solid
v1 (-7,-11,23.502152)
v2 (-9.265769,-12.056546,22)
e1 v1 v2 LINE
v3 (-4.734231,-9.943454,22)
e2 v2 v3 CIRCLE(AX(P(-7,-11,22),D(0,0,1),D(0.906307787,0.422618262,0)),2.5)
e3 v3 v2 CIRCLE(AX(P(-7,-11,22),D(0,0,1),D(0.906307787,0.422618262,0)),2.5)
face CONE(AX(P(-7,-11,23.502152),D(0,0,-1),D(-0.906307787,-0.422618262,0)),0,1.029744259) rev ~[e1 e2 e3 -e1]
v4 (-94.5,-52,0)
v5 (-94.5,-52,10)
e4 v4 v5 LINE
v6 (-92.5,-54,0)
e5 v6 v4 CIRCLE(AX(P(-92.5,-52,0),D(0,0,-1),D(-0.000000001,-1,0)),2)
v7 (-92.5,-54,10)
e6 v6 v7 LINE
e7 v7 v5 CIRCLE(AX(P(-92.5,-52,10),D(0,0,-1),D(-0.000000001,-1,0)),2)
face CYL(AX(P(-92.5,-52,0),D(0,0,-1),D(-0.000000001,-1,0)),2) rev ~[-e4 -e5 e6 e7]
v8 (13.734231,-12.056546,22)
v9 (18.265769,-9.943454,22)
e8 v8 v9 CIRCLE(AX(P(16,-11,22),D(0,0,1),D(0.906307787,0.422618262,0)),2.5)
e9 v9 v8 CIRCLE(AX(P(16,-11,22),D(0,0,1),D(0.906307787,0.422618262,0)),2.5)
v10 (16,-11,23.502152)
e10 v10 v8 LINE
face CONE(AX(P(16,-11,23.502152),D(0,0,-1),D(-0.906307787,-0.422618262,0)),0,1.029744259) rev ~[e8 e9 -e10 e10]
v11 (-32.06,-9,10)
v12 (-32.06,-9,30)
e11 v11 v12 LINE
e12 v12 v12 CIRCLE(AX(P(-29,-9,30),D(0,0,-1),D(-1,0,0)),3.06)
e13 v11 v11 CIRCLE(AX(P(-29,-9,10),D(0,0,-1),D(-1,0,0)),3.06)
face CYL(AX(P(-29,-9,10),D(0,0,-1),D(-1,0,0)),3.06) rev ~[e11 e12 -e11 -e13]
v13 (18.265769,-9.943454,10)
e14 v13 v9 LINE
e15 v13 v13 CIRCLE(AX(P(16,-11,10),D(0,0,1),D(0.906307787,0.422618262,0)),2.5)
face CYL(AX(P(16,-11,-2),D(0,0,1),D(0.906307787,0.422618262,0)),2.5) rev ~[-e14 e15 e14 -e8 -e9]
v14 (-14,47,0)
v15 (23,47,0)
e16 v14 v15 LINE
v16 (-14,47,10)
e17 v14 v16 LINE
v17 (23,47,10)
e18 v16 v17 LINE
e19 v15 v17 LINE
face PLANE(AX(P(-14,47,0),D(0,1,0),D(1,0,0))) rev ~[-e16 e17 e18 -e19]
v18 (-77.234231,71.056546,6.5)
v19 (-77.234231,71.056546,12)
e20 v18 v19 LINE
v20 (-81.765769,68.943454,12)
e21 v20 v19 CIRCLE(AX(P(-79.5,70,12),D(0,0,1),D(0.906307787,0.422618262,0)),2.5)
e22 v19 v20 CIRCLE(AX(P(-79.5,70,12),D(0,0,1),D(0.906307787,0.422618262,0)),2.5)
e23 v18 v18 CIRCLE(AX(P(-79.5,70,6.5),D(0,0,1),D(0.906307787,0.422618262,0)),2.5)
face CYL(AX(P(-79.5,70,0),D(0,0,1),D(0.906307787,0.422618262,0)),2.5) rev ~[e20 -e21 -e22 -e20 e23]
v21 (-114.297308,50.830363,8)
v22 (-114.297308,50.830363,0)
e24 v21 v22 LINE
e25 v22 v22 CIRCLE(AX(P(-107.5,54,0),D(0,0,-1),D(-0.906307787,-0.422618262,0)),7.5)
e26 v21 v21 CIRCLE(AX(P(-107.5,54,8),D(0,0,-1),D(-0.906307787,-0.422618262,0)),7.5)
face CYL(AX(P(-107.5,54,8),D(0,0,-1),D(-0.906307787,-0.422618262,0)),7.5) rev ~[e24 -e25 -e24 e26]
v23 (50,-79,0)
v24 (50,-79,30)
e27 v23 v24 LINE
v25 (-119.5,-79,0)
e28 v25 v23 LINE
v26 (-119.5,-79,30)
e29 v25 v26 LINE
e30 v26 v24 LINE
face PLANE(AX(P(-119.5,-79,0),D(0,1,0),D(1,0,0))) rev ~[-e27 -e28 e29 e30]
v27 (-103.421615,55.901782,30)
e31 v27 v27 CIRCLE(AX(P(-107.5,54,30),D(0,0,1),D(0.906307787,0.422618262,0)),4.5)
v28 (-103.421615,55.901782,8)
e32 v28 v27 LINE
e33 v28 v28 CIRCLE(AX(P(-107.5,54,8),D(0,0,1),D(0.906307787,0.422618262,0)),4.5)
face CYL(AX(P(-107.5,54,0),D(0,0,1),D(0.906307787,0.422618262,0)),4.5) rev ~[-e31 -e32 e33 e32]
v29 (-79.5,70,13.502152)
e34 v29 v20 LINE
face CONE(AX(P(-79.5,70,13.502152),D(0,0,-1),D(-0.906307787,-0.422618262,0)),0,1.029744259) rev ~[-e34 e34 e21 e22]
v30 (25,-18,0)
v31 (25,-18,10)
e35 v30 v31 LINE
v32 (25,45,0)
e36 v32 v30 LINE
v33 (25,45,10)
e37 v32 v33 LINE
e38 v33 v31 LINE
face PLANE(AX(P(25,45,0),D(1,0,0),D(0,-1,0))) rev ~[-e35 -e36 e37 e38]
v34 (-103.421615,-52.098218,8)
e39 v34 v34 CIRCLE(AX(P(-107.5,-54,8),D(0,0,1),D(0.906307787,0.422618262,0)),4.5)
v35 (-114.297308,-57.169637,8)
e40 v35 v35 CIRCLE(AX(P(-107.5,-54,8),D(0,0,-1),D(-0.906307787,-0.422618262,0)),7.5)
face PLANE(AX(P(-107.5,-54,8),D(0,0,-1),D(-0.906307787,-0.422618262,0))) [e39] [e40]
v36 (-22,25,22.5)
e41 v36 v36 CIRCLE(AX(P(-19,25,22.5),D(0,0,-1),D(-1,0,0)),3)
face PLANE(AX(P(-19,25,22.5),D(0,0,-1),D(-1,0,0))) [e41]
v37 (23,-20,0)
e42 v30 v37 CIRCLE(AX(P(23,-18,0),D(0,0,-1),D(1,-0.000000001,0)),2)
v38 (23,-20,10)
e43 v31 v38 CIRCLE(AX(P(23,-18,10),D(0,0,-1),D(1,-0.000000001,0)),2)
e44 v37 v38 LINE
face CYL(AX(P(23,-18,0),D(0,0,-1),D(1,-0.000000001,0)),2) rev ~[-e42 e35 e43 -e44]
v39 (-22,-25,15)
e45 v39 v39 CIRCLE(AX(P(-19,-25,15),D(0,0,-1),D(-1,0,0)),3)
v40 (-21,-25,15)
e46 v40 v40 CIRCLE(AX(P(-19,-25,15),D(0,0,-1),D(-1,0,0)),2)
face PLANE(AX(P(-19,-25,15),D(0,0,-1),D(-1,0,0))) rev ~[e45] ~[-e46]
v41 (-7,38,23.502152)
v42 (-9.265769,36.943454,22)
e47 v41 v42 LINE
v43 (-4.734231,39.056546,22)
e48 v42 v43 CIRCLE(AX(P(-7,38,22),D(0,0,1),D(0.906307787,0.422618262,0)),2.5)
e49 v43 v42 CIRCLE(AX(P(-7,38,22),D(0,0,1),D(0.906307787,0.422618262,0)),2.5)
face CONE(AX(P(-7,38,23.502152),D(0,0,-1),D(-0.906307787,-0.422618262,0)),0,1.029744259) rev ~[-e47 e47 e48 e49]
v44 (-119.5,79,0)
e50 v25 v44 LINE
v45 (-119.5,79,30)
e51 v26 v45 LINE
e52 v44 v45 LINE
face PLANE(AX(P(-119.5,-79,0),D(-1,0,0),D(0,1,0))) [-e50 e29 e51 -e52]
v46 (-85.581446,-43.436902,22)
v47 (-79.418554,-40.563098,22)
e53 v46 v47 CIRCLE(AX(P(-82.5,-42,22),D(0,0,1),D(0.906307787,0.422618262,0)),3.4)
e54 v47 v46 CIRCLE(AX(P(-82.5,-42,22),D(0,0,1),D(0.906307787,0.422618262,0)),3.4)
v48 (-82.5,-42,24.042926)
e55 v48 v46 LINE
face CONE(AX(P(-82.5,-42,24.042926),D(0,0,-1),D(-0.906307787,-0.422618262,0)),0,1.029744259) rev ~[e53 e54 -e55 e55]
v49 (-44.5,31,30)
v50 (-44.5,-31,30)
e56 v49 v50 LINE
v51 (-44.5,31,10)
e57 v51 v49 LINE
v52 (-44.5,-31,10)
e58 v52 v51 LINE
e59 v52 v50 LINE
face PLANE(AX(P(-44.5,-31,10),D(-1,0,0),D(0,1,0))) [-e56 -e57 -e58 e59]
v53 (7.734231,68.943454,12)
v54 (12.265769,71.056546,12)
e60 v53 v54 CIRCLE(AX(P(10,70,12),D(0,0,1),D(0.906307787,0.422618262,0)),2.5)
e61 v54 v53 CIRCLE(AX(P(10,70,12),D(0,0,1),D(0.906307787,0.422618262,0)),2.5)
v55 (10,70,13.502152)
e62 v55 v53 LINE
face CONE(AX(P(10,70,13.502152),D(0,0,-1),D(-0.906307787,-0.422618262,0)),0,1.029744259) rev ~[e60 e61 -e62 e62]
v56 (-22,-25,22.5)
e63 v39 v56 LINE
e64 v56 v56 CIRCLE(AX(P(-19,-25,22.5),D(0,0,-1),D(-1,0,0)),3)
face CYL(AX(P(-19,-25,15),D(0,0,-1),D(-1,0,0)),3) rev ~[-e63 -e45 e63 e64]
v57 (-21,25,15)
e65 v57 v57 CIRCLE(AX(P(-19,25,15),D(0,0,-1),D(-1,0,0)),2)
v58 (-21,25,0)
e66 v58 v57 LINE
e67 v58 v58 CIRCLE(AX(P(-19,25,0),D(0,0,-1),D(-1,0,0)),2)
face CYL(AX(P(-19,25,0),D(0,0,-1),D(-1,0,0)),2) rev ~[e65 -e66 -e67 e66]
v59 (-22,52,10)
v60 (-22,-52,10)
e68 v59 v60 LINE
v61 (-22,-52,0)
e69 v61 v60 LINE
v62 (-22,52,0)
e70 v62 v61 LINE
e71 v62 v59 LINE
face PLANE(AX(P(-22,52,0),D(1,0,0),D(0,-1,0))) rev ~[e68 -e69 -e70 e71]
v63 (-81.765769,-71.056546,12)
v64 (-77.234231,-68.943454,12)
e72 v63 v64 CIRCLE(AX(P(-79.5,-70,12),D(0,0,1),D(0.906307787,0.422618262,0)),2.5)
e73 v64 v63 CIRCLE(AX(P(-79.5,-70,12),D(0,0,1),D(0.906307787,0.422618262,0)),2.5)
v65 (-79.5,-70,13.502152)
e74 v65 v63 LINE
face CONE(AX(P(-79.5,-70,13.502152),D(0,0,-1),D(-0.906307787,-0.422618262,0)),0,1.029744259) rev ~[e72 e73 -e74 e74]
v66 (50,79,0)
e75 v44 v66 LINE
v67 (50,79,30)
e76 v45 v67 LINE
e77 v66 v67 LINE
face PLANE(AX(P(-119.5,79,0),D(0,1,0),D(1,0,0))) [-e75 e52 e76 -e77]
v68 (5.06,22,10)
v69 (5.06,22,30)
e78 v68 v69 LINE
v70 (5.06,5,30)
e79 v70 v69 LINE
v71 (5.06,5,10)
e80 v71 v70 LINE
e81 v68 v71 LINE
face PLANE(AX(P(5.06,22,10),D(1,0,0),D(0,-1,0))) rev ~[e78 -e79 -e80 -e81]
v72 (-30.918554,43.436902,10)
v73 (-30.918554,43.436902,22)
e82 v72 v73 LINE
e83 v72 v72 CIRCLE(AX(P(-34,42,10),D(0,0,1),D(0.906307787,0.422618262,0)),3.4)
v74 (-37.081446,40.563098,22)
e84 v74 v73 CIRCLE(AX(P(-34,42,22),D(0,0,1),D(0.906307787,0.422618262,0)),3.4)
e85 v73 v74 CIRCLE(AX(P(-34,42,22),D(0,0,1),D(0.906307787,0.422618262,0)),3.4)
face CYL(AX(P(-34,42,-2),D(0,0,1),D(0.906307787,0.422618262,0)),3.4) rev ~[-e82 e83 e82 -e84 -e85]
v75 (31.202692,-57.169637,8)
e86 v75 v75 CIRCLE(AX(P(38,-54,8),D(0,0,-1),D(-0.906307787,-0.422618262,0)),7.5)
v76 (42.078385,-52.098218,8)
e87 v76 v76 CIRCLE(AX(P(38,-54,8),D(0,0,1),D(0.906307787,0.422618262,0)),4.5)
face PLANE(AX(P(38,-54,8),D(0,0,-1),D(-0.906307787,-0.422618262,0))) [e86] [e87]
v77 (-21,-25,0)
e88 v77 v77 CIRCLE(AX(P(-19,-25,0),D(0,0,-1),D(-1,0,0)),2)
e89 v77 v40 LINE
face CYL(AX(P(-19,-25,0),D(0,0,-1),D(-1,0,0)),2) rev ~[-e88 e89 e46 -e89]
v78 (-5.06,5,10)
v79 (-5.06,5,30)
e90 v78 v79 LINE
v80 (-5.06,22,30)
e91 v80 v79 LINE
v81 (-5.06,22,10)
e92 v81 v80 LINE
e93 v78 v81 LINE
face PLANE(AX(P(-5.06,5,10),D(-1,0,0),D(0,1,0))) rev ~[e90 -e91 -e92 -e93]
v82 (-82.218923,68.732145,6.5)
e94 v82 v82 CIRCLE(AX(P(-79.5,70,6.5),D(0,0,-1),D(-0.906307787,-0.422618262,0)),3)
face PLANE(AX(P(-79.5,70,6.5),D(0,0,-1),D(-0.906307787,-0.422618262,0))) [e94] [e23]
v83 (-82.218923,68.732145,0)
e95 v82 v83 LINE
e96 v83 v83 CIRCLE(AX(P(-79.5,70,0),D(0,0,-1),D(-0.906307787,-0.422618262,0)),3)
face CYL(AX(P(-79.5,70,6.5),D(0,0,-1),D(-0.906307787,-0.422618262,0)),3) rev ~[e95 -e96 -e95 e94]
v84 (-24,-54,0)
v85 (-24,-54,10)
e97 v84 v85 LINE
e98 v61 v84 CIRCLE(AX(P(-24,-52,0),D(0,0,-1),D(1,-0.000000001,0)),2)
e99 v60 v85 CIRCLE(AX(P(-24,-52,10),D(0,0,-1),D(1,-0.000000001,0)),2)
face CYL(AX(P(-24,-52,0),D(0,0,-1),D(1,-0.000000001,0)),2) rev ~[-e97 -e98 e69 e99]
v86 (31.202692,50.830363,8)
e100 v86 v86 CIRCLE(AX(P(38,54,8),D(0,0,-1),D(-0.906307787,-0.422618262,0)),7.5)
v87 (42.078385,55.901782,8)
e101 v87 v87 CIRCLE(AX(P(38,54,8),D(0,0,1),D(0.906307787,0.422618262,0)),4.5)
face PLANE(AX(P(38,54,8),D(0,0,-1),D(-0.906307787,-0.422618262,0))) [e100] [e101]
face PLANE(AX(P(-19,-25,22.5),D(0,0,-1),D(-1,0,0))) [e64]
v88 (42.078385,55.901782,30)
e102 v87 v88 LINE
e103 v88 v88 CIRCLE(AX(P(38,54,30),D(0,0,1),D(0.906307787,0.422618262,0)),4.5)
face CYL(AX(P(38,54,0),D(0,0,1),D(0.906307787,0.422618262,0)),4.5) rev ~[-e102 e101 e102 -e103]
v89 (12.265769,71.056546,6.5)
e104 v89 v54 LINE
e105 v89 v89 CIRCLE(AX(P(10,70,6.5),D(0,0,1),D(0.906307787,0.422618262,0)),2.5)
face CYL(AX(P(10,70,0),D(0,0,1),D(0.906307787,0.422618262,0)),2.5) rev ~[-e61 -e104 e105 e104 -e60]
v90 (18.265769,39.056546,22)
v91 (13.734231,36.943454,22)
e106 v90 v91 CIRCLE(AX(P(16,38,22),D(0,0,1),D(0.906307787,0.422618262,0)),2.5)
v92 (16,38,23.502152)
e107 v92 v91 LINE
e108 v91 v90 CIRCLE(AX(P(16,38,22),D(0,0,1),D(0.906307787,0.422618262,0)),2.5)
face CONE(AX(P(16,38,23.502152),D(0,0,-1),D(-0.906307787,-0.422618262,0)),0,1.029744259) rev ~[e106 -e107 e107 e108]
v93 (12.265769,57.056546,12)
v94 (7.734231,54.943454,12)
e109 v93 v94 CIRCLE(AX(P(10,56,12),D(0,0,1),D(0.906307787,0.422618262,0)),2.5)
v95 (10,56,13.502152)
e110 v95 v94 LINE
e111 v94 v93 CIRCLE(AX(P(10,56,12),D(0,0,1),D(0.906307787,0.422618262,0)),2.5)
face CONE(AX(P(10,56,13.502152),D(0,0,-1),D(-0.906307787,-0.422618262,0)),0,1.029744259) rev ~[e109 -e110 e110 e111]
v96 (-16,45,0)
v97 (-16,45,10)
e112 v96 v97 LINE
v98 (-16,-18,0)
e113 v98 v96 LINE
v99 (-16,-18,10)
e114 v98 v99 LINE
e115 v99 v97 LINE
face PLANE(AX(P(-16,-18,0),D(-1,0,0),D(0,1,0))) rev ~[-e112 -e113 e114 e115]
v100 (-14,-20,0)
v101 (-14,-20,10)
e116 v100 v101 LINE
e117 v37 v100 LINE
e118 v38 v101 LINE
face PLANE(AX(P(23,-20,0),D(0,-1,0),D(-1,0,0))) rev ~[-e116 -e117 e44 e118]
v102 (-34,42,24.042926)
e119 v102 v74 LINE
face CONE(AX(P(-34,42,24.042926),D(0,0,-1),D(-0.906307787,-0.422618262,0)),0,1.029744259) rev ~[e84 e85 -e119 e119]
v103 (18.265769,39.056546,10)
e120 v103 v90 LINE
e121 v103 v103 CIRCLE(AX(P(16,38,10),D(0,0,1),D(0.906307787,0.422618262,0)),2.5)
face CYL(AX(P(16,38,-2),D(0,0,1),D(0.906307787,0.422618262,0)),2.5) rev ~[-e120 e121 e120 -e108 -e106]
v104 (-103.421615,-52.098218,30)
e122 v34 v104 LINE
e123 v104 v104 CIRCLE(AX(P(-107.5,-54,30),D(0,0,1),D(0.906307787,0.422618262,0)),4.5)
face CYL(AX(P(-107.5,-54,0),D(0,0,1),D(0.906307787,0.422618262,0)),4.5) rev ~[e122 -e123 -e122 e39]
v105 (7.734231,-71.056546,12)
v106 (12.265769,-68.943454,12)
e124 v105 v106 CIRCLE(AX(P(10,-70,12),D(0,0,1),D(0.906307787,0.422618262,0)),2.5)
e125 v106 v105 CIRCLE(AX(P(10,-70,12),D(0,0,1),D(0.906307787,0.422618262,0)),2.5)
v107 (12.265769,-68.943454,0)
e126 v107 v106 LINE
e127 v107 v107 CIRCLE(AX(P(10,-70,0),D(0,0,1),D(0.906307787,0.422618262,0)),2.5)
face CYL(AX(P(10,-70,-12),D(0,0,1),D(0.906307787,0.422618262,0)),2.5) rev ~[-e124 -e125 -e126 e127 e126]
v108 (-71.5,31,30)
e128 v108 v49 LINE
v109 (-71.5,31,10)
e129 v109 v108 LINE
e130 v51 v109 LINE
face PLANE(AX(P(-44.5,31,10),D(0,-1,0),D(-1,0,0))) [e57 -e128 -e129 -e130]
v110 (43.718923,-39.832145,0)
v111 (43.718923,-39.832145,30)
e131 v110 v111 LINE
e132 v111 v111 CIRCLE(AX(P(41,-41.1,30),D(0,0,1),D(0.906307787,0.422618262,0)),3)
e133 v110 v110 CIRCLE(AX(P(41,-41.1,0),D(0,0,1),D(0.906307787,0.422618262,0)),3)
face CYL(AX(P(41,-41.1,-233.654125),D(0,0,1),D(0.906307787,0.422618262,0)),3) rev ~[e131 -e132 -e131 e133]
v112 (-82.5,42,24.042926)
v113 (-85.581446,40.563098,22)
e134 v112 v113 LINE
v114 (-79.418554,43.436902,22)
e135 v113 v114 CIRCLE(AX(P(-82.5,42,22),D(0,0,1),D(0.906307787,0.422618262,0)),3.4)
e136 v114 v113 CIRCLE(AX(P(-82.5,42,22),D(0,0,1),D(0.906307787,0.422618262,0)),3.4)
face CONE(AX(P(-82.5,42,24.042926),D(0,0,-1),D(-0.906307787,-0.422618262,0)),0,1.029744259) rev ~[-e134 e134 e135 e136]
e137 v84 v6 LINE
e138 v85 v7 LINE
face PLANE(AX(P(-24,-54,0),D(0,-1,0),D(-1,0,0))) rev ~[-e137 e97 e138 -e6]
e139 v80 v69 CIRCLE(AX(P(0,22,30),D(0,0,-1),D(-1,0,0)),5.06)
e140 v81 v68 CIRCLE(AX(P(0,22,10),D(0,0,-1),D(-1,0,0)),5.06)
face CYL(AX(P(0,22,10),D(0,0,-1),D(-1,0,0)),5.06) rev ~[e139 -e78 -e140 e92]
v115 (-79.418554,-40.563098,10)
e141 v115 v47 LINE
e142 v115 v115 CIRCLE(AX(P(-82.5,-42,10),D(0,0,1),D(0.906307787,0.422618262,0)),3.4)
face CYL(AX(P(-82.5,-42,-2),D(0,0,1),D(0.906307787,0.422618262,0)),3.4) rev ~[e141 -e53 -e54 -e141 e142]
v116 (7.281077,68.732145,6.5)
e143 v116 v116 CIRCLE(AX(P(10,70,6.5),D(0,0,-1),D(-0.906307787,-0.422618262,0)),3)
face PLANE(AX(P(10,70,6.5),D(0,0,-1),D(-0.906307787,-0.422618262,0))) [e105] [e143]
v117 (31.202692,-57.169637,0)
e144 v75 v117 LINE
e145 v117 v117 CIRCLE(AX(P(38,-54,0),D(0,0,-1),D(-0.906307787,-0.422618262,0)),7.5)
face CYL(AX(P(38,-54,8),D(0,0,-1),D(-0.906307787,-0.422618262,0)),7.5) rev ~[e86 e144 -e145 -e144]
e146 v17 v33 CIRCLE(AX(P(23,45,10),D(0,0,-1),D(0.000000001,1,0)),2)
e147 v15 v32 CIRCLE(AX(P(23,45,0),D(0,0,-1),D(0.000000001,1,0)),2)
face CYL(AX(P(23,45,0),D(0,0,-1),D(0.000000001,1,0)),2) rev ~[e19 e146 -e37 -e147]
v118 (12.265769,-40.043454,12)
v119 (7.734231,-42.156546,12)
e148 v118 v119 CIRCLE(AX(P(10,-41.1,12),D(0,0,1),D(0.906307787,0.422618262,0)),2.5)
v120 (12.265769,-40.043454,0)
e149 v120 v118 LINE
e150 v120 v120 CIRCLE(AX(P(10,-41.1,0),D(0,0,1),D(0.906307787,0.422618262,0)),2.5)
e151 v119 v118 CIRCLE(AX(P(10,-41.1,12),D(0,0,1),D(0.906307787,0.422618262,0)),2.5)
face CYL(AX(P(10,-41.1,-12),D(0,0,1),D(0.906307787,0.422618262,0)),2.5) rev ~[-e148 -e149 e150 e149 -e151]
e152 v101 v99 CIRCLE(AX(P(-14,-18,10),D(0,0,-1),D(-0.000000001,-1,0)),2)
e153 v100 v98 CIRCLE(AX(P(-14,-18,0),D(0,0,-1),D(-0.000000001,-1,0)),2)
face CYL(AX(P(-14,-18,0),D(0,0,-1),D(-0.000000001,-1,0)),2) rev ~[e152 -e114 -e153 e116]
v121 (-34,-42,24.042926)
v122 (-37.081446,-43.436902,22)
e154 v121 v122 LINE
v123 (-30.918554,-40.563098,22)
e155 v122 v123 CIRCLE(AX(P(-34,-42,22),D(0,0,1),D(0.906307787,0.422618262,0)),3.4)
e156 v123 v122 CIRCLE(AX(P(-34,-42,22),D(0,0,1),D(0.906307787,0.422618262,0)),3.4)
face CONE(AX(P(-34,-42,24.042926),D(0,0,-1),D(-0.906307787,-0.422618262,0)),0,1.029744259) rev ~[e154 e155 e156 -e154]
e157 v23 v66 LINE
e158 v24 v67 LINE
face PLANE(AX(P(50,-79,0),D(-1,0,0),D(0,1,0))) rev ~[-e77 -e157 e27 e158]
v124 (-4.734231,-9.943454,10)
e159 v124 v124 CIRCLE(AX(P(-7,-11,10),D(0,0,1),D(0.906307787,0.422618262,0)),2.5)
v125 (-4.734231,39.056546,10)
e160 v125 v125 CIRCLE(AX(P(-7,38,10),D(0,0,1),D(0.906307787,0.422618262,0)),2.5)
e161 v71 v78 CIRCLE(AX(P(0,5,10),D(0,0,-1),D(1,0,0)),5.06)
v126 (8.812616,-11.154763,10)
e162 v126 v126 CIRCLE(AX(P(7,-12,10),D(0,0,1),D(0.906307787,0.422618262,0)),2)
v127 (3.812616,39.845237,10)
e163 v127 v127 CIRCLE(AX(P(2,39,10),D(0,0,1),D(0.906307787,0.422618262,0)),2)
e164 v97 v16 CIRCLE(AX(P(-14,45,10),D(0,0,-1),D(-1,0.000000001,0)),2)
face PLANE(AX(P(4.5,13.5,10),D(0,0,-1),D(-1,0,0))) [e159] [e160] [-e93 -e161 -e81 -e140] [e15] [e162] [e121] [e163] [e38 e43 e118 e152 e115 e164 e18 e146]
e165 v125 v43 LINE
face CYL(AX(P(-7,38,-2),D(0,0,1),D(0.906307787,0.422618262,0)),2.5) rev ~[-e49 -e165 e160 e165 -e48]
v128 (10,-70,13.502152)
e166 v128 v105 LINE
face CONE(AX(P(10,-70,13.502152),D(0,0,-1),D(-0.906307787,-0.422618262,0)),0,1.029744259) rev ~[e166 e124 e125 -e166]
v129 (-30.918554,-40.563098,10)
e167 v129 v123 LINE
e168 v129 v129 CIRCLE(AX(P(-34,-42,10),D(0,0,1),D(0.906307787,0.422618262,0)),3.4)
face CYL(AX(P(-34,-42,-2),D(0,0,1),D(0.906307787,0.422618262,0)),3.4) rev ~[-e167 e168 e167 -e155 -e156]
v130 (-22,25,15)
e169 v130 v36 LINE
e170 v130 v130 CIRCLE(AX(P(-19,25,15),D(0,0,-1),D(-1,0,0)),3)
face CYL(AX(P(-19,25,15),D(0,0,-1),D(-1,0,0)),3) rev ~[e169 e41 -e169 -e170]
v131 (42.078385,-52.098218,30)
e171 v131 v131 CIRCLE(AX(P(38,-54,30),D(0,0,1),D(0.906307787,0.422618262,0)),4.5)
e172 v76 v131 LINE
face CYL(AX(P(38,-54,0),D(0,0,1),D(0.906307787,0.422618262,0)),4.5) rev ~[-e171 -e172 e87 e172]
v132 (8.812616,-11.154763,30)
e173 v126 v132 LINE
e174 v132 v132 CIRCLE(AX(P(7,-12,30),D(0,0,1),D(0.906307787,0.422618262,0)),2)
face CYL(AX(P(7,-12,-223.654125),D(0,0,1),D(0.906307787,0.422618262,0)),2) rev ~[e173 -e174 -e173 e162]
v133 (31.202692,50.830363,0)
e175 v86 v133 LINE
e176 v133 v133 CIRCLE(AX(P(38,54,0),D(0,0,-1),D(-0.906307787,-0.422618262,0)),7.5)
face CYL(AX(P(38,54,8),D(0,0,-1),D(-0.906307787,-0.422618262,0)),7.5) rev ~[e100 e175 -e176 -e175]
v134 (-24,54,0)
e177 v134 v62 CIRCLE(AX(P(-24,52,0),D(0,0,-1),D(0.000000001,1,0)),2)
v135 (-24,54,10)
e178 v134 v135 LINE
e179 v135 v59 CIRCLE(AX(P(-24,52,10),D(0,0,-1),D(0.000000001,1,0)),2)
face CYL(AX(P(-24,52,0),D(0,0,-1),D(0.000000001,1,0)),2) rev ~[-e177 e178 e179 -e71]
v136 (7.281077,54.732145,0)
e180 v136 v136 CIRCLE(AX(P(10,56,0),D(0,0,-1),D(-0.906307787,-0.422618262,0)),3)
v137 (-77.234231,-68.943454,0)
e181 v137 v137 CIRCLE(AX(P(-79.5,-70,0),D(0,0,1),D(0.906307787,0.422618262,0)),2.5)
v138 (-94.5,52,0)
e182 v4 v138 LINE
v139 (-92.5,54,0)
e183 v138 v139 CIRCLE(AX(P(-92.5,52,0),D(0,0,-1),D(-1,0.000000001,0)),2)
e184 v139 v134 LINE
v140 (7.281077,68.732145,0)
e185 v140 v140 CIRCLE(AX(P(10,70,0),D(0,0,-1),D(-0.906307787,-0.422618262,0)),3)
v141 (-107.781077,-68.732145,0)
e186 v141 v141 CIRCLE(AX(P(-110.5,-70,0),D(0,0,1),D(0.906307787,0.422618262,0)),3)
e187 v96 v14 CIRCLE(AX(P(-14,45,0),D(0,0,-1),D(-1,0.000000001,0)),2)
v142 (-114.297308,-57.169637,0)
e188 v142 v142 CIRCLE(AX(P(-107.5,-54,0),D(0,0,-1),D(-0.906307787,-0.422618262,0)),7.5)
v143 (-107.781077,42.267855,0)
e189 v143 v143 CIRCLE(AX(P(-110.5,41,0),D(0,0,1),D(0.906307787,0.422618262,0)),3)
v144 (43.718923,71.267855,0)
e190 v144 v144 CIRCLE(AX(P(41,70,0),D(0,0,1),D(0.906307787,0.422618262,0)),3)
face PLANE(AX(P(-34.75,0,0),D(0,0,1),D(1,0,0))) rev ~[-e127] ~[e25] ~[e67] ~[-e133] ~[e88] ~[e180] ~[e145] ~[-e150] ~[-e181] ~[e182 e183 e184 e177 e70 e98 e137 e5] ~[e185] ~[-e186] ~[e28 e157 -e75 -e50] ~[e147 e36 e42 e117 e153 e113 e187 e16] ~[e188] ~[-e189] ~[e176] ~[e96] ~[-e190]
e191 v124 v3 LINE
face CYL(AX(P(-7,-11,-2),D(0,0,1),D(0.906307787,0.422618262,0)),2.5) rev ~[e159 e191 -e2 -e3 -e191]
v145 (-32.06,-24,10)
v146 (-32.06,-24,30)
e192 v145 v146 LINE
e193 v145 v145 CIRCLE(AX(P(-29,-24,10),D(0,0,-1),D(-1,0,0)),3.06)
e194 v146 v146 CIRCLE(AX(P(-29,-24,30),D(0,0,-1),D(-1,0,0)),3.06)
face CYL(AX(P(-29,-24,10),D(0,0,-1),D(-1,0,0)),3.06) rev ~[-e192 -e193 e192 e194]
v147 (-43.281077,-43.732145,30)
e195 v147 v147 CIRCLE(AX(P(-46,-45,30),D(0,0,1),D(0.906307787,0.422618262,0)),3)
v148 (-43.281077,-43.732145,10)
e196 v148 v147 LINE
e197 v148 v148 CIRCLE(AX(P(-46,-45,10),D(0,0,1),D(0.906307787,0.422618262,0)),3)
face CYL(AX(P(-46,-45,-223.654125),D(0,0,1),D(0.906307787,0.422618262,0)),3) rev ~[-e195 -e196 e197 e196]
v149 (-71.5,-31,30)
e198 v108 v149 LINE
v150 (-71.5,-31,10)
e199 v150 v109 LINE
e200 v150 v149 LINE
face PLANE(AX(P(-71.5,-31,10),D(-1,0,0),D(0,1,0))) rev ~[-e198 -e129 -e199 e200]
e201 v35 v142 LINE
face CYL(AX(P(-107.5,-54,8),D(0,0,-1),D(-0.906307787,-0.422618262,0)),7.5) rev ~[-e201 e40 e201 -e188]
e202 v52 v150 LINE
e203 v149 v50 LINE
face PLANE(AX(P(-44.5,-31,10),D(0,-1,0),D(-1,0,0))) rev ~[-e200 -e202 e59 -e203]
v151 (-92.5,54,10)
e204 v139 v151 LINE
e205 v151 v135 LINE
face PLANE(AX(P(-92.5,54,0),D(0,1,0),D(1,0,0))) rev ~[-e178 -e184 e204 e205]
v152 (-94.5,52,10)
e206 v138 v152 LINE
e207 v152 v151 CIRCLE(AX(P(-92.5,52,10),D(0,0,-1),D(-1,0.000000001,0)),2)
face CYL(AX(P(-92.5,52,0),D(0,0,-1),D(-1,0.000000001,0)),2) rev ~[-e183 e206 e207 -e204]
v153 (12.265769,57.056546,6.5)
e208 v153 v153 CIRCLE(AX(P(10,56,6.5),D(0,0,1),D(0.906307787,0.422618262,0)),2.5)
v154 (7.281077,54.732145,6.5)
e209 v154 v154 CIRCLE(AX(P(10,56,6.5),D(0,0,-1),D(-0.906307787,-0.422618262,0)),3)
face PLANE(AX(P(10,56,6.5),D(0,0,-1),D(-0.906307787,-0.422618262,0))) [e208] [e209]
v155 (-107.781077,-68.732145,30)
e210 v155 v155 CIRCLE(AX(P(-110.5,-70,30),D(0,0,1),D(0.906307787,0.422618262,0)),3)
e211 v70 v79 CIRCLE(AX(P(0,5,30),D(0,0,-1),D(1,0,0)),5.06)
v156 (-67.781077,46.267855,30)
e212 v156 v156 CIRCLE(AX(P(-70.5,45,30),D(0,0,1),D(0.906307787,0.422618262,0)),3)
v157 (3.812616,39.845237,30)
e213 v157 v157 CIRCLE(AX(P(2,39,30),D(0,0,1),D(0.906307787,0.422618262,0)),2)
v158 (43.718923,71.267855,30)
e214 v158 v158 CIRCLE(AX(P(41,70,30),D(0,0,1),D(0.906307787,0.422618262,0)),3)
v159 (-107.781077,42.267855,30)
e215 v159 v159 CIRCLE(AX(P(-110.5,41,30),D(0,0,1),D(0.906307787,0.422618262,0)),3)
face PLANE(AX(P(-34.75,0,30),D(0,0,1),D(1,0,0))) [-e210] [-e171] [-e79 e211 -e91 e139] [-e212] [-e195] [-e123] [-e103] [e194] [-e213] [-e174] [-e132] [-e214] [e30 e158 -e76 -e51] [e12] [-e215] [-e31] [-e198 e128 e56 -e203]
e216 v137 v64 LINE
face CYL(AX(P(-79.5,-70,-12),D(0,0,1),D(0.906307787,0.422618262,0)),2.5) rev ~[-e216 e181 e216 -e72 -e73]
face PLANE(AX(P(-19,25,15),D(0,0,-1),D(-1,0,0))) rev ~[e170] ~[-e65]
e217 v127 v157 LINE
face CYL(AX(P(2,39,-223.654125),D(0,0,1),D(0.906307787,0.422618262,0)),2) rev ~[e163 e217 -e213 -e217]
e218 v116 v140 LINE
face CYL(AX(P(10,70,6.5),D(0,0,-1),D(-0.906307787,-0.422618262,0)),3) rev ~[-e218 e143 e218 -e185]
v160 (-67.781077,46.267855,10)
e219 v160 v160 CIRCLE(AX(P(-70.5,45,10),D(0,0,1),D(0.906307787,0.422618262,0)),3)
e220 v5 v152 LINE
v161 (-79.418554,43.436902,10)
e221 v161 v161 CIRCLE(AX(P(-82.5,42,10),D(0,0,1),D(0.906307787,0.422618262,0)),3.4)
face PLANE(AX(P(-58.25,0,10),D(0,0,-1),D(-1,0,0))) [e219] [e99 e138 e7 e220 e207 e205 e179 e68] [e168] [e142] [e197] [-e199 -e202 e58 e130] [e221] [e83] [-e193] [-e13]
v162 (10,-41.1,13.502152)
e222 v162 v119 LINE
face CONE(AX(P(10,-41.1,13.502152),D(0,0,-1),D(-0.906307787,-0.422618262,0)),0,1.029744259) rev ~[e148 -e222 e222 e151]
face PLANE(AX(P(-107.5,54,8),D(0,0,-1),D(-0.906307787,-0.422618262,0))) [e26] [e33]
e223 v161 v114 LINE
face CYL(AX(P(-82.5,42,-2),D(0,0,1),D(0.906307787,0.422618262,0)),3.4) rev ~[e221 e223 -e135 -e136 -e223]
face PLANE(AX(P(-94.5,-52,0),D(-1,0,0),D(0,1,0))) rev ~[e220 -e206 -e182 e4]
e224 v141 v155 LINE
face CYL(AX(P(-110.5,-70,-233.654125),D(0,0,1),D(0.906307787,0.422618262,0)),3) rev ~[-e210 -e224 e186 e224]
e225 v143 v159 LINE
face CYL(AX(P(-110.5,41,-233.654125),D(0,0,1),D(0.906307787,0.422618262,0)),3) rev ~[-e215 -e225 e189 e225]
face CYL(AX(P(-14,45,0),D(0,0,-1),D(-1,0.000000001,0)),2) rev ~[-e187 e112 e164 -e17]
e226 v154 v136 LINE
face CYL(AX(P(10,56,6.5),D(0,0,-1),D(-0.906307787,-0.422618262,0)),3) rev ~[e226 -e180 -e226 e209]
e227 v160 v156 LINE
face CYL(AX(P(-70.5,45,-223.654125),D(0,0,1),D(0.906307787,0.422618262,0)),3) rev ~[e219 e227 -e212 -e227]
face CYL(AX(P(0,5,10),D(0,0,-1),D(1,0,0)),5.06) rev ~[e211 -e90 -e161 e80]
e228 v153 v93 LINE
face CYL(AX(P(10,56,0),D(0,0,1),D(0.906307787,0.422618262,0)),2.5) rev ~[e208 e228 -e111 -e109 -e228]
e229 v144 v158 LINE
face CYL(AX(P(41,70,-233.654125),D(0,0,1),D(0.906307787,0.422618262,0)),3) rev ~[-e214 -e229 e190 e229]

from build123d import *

# Parameters (mm, degrees)
SKETCH2_W                       = 169.5
SKETCH2_H                       = 158
BOSS_EXTRUDE1_DEPTH             = 30
CUT_EXTRUDE2_START              = -10
SKETCH4_R                       = 3.06
SKETCH4_W                       = 27
SKETCH4_H                       = 62
CUT_EXTRUDE2_DEPTH              = 137.360001366
CUT_EXTRUDE4_DEPTH              = 10
SKETCH9_R                       = 2
CUT_EXTRUDE14_DEPTH             = 15
SKETCH11_R                      = 3
CUT_EXTRUDE16_DEPTH             = 7.5
CBORE_FOR_M8_SHCS1_D            = 9
CBORE_FOR_M8_SHCS1_CBORE_D      = 15
CBORE_FOR_M8_SHCS1_CBORE_DEPTH  = 8
M8X1_25_TAPPED_HOLE1_D          = 6.8
M8X1_25_TAPPED_HOLE1_DEPTH      = 12
M8X1_25_TAPPED_HOLE1_TIP        = 2.042926105
M6X1_0_TAPPED_HOLE1_D           = 5
M6X1_0_TAPPED_HOLE1_DEPTH       = 12
M6X1_0_TAPPED_HOLE1_TIP         = 1.502151548
M6X1_0_TAPPED_HOLE2_D           = 5
M6X1_0_TAPPED_HOLE2_DEPTH       = 12
M6X1_0_TAPPED_HOLE2_TIP         = 1.502151548
M6X1_0_TAPPED_HOLE3_D           = 5
M6X1_0_TAPPED_HOLE3_DEPTH       = 12
M6X1_0_TAPPED_HOLE3_CBORE_D     = 6
M6X1_0_TAPPED_HOLE3_CBORE_DEPTH = 6.5
M6X1_0_TAPPED_HOLE3_TIP         = 1.502151548
F_6_0MM_CLEARANCE_DOWEL_HOLE1_D = 6
F_6_0MM_CLEARANCE_DOWEL_HOLE2_D = 6
F_6_0MM_CLEARANCE_DOWEL_HOLE3_D = 6
F_4_0MM_CLEARANCE_DOWEL_HOLE1_D = 4


with BuildPart() as part:
    # Sketch2 → Boss-Extrude1 (new body)
    with BuildSketch(Plane.XY):
        with Locations((-34.75, 0)):
            Rectangle(SKETCH2_W, SKETCH2_H)
    extrude(amount=BOSS_EXTRUDE1_DEPTH)

    # Sketch4 → Cut-Extrude2 (cut, through all)
    with BuildSketch(Plane(origin=(0, 0, 0), x_dir=(-1, 0, 0), z_dir=(0, 0, -1)).offset(CUT_EXTRUDE2_START)):
        with Locations((29, -9)):
            Circle(SKETCH4_R)
        with Locations((29, -24)):
            Circle(SKETCH4_R)
        with BuildLine():
            Line((-5.06, 22), (-5.06, 5))
            ThreePointArc((-5.06, 5), (0, -0.06), (5.06, 5))
            Line((5.06, 5), (5.06, 22))
            ThreePointArc((5.06, 22), (0, 27.06), (-5.06, 22))
        make_face()
        with Locations((58, 0)):
            Rectangle(SKETCH4_W, SKETCH4_H)
    extrude(amount=-CUT_EXTRUDE2_DEPTH, mode=Mode.SUBTRACT)

    # Sketch5 → Cut-Extrude4 (cut)
    with BuildSketch(Plane(origin=(0, 0, 0), x_dir=(-1, 0, 0), z_dir=(0, 0, -1))):
        with BuildLine():
            Line((-25, 45), (-25, -18))
            ThreePointArc((-25, -18), (-24.414213562, -19.414213562), (-23, -20))
            Line((-23, -20), (14, -20))
            ThreePointArc((14, -20), (15.414213562, -19.414213562), (16, -18))
            Line((16, -18), (16, 45))
            ThreePointArc((16, 45), (15.414213562, 46.414213562), (14, 47))
            Line((14, 47), (-23, 47))
            ThreePointArc((-23, 47), (-24.414213562, 46.414213562), (-25, 45))
        make_face()
        with BuildLine():
            Line((24, -54), (92.5, -54))
            ThreePointArc((92.5, -54), (93.914213562, -53.414213562), (94.5, -52))
            Line((94.5, -52), (94.5, 52))
            ThreePointArc((94.5, 52), (93.914213562, 53.414213562), (92.5, 54))
            Line((92.5, 54), (24, 54))
            ThreePointArc((24, 54), (22.585786438, 53.414213562), (22, 52))
            Line((22, 52), (22, -52))
            ThreePointArc((22, -52), (22.585786438, -53.414213562), (24, -54))
        make_face()
    extrude(amount=-CUT_EXTRUDE4_DEPTH, mode=Mode.SUBTRACT)

    # Sketch9 → Cut-Extrude14 (cut)
    with BuildSketch(Plane(origin=(0, 0, 0), x_dir=(-1, 0, 0), z_dir=(0, 0, -1))):
        with Locations((19, 25)):
            Circle(SKETCH9_R)
        with Locations((19, -25)):
            Circle(SKETCH9_R)
    extrude(amount=-CUT_EXTRUDE14_DEPTH, mode=Mode.SUBTRACT)

    # Sketch11 → Cut-Extrude16 (cut)
    with BuildSketch(Plane(origin=(0, 0, 15), x_dir=(-1, 0, 0), z_dir=(0, 0, -1))):
        with Locations((19, 25)):
            Circle(SKETCH11_R)
        with Locations((19, -25)):
            Circle(SKETCH11_R)
    extrude(amount=-CUT_EXTRUDE16_DEPTH, mode=Mode.SUBTRACT)

    # CBORE for M8 SHCS1 (through all)
    with Locations(Plane(origin=(0, 0, 0), x_dir=(-0.9063077870366375, -0.4226182617407263, 0), z_dir=(0, 0, -1))):
        with Locations((74.606700972, 94.372083637), (120.24947324, -3.509157363), (-57.261082041, 32.881126554), (-11.618309773, -65.000114446)):
            CounterBoreHole(CBORE_FOR_M8_SHCS1_D / 2, CBORE_FOR_M8_SHCS1_CBORE_D / 2, CBORE_FOR_M8_SHCS1_CBORE_DEPTH)

    # M8x1.25 Tapped Hole1
    with Locations(Plane(origin=(0, 0, 10), x_dir=(-0.9063077870366375, -0.4226182617407263, 0), z_dir=(0, 0, -1))):
        with Locations((57.020425437, 72.930933649), (13.064497766, 52.433947955), (48.564431752, -23.695906156), (92.520359424, -3.198920462)):
            Hole(M8X1_25_TAPPED_HOLE1_D / 2, depth=M8X1_25_TAPPED_HOLE1_DEPTH)
            with Locations((0, 0, -(M8X1_25_TAPPED_HOLE1_DEPTH + M8X1_25_TAPPED_HOLE1_TIP / 2))):  # 118° drill point
                Cone(0, M8X1_25_TAPPED_HOLE1_D / 2, M8X1_25_TAPPED_HOLE1_TIP, mode=Mode.SUBTRACT)

    # M6x1.0 Tapped Hole1
    with Locations(Plane(origin=(0, 0, 10), x_dir=(-0.9063077870366375, -0.4226182617407263, 0), z_dir=(0, 0, -1))):
        with Locations((-30.560418539, 27.67780372), (10.992955388, -7.011057825), (-9.852123713, -16.731277845), (-9.715339437, 37.39802374)):
            Hole(M6X1_0_TAPPED_HOLE1_D / 2, depth=M6X1_0_TAPPED_HOLE1_DEPTH)
            with Locations((0, 0, -(M6X1_0_TAPPED_HOLE1_DEPTH + M6X1_0_TAPPED_HOLE1_TIP / 2))):  # 118° drill point
                Cone(0, M6X1_0_TAPPED_HOLE1_D / 2, M6X1_0_TAPPED_HOLE1_TIP, mode=Mode.SUBTRACT)

    # M6x1.0 Tapped Hole2
    with Locations(Plane(origin=(0, 0, 0), x_dir=(-0.9063077870366375, -0.4226182617407263, 0), z_dir=(0, 0, -1))):
        with Locations((101.634747391, -29.843393284), (20.520200451, -67.66772771), (8.306532687, -41.475432665)):
            Hole(M6X1_0_TAPPED_HOLE2_D / 2, depth=M6X1_0_TAPPED_HOLE2_DEPTH)
            with Locations((0, 0, -(M6X1_0_TAPPED_HOLE2_DEPTH + M6X1_0_TAPPED_HOLE2_TIP / 2))):  # 118° drill point
                Cone(0, M6X1_0_TAPPED_HOLE2_D / 2, M6X1_0_TAPPED_HOLE2_TIP, mode=Mode.SUBTRACT)

    # M6x1.0 Tapped Hole3
    with Locations(Plane(origin=(0, 0, 0), x_dir=(-0.9063077870366375, -0.4226182617407263, 0), z_dir=(0, 0, -1))):
        with Locations((42.468190748, 97.039696901), (-32.729700528, 46.527053457), (-38.646356192, 59.215362475)):
            CounterBoreHole(M6X1_0_TAPPED_HOLE3_D / 2, M6X1_0_TAPPED_HOLE3_CBORE_D / 2, M6X1_0_TAPPED_HOLE3_CBORE_DEPTH, depth=M6X1_0_TAPPED_HOLE3_DEPTH)
            with Locations((0, 0, -(M6X1_0_TAPPED_HOLE3_DEPTH + M6X1_0_TAPPED_HOLE3_TIP / 2))):  # 118° drill point
                Cone(0, M6X1_0_TAPPED_HOLE3_D / 2, M6X1_0_TAPPED_HOLE3_TIP, mode=Mode.SUBTRACT)

    # Ø6.0mm Clearance Dowel Hole1 (through all)
    with Locations(Plane(origin=(0, 0, 0), x_dir=(-0.9063077870366375, -0.4226182617407263, 0), z_dir=(0, 0, -1))):
        with Locations((-66.74189759, 46.114196361), (82.819661736, 83.857937191)):
            Hole(F_6_0MM_CLEARANCE_DOWEL_HOLE1_D / 2)

    # Ø6.0mm Clearance Dowel Hole2 (through all)
    with Locations(Plane(origin=(0, 0, 0), x_dir=(-0.9063077870366375, -0.4226182617407263, 0), z_dir=(0, 0, -1))):
        with Locations((-19.789008711, -54.576598779), (129.730288789, -16.74222717)):
            Hole(F_6_0MM_CLEARANCE_DOWEL_HOLE2_D / 2)

    # Ø6.0mm Clearance Dowel Hole3 (through all)
    with Locations(Plane(origin=(0, 0, 10), x_dir=(-0.9063077870366375, -0.4226182617407263, 0), z_dir=(0, 0, -1))):
        with Locations((44.876877208, 70.578437869), (60.707979982, -21.343410377)):
            Hole(F_6_0MM_CLEARANCE_DOWEL_HOLE3_D / 2)

    # Ø4.0mm Clearance Dowel Hole1 (through all)
    with Locations(Plane(origin=(0, 0, 10), x_dir=(-0.9063077870366375, -0.4226182617407263, 0), z_dir=(0, 0, -1))):
        with Locations((-18.294727782, 34.500767171), (-1.272735368, -13.834021277)):
            Hole(F_4_0MM_CLEARANCE_DOWEL_HOLE1_D / 2)


solid = part.part
